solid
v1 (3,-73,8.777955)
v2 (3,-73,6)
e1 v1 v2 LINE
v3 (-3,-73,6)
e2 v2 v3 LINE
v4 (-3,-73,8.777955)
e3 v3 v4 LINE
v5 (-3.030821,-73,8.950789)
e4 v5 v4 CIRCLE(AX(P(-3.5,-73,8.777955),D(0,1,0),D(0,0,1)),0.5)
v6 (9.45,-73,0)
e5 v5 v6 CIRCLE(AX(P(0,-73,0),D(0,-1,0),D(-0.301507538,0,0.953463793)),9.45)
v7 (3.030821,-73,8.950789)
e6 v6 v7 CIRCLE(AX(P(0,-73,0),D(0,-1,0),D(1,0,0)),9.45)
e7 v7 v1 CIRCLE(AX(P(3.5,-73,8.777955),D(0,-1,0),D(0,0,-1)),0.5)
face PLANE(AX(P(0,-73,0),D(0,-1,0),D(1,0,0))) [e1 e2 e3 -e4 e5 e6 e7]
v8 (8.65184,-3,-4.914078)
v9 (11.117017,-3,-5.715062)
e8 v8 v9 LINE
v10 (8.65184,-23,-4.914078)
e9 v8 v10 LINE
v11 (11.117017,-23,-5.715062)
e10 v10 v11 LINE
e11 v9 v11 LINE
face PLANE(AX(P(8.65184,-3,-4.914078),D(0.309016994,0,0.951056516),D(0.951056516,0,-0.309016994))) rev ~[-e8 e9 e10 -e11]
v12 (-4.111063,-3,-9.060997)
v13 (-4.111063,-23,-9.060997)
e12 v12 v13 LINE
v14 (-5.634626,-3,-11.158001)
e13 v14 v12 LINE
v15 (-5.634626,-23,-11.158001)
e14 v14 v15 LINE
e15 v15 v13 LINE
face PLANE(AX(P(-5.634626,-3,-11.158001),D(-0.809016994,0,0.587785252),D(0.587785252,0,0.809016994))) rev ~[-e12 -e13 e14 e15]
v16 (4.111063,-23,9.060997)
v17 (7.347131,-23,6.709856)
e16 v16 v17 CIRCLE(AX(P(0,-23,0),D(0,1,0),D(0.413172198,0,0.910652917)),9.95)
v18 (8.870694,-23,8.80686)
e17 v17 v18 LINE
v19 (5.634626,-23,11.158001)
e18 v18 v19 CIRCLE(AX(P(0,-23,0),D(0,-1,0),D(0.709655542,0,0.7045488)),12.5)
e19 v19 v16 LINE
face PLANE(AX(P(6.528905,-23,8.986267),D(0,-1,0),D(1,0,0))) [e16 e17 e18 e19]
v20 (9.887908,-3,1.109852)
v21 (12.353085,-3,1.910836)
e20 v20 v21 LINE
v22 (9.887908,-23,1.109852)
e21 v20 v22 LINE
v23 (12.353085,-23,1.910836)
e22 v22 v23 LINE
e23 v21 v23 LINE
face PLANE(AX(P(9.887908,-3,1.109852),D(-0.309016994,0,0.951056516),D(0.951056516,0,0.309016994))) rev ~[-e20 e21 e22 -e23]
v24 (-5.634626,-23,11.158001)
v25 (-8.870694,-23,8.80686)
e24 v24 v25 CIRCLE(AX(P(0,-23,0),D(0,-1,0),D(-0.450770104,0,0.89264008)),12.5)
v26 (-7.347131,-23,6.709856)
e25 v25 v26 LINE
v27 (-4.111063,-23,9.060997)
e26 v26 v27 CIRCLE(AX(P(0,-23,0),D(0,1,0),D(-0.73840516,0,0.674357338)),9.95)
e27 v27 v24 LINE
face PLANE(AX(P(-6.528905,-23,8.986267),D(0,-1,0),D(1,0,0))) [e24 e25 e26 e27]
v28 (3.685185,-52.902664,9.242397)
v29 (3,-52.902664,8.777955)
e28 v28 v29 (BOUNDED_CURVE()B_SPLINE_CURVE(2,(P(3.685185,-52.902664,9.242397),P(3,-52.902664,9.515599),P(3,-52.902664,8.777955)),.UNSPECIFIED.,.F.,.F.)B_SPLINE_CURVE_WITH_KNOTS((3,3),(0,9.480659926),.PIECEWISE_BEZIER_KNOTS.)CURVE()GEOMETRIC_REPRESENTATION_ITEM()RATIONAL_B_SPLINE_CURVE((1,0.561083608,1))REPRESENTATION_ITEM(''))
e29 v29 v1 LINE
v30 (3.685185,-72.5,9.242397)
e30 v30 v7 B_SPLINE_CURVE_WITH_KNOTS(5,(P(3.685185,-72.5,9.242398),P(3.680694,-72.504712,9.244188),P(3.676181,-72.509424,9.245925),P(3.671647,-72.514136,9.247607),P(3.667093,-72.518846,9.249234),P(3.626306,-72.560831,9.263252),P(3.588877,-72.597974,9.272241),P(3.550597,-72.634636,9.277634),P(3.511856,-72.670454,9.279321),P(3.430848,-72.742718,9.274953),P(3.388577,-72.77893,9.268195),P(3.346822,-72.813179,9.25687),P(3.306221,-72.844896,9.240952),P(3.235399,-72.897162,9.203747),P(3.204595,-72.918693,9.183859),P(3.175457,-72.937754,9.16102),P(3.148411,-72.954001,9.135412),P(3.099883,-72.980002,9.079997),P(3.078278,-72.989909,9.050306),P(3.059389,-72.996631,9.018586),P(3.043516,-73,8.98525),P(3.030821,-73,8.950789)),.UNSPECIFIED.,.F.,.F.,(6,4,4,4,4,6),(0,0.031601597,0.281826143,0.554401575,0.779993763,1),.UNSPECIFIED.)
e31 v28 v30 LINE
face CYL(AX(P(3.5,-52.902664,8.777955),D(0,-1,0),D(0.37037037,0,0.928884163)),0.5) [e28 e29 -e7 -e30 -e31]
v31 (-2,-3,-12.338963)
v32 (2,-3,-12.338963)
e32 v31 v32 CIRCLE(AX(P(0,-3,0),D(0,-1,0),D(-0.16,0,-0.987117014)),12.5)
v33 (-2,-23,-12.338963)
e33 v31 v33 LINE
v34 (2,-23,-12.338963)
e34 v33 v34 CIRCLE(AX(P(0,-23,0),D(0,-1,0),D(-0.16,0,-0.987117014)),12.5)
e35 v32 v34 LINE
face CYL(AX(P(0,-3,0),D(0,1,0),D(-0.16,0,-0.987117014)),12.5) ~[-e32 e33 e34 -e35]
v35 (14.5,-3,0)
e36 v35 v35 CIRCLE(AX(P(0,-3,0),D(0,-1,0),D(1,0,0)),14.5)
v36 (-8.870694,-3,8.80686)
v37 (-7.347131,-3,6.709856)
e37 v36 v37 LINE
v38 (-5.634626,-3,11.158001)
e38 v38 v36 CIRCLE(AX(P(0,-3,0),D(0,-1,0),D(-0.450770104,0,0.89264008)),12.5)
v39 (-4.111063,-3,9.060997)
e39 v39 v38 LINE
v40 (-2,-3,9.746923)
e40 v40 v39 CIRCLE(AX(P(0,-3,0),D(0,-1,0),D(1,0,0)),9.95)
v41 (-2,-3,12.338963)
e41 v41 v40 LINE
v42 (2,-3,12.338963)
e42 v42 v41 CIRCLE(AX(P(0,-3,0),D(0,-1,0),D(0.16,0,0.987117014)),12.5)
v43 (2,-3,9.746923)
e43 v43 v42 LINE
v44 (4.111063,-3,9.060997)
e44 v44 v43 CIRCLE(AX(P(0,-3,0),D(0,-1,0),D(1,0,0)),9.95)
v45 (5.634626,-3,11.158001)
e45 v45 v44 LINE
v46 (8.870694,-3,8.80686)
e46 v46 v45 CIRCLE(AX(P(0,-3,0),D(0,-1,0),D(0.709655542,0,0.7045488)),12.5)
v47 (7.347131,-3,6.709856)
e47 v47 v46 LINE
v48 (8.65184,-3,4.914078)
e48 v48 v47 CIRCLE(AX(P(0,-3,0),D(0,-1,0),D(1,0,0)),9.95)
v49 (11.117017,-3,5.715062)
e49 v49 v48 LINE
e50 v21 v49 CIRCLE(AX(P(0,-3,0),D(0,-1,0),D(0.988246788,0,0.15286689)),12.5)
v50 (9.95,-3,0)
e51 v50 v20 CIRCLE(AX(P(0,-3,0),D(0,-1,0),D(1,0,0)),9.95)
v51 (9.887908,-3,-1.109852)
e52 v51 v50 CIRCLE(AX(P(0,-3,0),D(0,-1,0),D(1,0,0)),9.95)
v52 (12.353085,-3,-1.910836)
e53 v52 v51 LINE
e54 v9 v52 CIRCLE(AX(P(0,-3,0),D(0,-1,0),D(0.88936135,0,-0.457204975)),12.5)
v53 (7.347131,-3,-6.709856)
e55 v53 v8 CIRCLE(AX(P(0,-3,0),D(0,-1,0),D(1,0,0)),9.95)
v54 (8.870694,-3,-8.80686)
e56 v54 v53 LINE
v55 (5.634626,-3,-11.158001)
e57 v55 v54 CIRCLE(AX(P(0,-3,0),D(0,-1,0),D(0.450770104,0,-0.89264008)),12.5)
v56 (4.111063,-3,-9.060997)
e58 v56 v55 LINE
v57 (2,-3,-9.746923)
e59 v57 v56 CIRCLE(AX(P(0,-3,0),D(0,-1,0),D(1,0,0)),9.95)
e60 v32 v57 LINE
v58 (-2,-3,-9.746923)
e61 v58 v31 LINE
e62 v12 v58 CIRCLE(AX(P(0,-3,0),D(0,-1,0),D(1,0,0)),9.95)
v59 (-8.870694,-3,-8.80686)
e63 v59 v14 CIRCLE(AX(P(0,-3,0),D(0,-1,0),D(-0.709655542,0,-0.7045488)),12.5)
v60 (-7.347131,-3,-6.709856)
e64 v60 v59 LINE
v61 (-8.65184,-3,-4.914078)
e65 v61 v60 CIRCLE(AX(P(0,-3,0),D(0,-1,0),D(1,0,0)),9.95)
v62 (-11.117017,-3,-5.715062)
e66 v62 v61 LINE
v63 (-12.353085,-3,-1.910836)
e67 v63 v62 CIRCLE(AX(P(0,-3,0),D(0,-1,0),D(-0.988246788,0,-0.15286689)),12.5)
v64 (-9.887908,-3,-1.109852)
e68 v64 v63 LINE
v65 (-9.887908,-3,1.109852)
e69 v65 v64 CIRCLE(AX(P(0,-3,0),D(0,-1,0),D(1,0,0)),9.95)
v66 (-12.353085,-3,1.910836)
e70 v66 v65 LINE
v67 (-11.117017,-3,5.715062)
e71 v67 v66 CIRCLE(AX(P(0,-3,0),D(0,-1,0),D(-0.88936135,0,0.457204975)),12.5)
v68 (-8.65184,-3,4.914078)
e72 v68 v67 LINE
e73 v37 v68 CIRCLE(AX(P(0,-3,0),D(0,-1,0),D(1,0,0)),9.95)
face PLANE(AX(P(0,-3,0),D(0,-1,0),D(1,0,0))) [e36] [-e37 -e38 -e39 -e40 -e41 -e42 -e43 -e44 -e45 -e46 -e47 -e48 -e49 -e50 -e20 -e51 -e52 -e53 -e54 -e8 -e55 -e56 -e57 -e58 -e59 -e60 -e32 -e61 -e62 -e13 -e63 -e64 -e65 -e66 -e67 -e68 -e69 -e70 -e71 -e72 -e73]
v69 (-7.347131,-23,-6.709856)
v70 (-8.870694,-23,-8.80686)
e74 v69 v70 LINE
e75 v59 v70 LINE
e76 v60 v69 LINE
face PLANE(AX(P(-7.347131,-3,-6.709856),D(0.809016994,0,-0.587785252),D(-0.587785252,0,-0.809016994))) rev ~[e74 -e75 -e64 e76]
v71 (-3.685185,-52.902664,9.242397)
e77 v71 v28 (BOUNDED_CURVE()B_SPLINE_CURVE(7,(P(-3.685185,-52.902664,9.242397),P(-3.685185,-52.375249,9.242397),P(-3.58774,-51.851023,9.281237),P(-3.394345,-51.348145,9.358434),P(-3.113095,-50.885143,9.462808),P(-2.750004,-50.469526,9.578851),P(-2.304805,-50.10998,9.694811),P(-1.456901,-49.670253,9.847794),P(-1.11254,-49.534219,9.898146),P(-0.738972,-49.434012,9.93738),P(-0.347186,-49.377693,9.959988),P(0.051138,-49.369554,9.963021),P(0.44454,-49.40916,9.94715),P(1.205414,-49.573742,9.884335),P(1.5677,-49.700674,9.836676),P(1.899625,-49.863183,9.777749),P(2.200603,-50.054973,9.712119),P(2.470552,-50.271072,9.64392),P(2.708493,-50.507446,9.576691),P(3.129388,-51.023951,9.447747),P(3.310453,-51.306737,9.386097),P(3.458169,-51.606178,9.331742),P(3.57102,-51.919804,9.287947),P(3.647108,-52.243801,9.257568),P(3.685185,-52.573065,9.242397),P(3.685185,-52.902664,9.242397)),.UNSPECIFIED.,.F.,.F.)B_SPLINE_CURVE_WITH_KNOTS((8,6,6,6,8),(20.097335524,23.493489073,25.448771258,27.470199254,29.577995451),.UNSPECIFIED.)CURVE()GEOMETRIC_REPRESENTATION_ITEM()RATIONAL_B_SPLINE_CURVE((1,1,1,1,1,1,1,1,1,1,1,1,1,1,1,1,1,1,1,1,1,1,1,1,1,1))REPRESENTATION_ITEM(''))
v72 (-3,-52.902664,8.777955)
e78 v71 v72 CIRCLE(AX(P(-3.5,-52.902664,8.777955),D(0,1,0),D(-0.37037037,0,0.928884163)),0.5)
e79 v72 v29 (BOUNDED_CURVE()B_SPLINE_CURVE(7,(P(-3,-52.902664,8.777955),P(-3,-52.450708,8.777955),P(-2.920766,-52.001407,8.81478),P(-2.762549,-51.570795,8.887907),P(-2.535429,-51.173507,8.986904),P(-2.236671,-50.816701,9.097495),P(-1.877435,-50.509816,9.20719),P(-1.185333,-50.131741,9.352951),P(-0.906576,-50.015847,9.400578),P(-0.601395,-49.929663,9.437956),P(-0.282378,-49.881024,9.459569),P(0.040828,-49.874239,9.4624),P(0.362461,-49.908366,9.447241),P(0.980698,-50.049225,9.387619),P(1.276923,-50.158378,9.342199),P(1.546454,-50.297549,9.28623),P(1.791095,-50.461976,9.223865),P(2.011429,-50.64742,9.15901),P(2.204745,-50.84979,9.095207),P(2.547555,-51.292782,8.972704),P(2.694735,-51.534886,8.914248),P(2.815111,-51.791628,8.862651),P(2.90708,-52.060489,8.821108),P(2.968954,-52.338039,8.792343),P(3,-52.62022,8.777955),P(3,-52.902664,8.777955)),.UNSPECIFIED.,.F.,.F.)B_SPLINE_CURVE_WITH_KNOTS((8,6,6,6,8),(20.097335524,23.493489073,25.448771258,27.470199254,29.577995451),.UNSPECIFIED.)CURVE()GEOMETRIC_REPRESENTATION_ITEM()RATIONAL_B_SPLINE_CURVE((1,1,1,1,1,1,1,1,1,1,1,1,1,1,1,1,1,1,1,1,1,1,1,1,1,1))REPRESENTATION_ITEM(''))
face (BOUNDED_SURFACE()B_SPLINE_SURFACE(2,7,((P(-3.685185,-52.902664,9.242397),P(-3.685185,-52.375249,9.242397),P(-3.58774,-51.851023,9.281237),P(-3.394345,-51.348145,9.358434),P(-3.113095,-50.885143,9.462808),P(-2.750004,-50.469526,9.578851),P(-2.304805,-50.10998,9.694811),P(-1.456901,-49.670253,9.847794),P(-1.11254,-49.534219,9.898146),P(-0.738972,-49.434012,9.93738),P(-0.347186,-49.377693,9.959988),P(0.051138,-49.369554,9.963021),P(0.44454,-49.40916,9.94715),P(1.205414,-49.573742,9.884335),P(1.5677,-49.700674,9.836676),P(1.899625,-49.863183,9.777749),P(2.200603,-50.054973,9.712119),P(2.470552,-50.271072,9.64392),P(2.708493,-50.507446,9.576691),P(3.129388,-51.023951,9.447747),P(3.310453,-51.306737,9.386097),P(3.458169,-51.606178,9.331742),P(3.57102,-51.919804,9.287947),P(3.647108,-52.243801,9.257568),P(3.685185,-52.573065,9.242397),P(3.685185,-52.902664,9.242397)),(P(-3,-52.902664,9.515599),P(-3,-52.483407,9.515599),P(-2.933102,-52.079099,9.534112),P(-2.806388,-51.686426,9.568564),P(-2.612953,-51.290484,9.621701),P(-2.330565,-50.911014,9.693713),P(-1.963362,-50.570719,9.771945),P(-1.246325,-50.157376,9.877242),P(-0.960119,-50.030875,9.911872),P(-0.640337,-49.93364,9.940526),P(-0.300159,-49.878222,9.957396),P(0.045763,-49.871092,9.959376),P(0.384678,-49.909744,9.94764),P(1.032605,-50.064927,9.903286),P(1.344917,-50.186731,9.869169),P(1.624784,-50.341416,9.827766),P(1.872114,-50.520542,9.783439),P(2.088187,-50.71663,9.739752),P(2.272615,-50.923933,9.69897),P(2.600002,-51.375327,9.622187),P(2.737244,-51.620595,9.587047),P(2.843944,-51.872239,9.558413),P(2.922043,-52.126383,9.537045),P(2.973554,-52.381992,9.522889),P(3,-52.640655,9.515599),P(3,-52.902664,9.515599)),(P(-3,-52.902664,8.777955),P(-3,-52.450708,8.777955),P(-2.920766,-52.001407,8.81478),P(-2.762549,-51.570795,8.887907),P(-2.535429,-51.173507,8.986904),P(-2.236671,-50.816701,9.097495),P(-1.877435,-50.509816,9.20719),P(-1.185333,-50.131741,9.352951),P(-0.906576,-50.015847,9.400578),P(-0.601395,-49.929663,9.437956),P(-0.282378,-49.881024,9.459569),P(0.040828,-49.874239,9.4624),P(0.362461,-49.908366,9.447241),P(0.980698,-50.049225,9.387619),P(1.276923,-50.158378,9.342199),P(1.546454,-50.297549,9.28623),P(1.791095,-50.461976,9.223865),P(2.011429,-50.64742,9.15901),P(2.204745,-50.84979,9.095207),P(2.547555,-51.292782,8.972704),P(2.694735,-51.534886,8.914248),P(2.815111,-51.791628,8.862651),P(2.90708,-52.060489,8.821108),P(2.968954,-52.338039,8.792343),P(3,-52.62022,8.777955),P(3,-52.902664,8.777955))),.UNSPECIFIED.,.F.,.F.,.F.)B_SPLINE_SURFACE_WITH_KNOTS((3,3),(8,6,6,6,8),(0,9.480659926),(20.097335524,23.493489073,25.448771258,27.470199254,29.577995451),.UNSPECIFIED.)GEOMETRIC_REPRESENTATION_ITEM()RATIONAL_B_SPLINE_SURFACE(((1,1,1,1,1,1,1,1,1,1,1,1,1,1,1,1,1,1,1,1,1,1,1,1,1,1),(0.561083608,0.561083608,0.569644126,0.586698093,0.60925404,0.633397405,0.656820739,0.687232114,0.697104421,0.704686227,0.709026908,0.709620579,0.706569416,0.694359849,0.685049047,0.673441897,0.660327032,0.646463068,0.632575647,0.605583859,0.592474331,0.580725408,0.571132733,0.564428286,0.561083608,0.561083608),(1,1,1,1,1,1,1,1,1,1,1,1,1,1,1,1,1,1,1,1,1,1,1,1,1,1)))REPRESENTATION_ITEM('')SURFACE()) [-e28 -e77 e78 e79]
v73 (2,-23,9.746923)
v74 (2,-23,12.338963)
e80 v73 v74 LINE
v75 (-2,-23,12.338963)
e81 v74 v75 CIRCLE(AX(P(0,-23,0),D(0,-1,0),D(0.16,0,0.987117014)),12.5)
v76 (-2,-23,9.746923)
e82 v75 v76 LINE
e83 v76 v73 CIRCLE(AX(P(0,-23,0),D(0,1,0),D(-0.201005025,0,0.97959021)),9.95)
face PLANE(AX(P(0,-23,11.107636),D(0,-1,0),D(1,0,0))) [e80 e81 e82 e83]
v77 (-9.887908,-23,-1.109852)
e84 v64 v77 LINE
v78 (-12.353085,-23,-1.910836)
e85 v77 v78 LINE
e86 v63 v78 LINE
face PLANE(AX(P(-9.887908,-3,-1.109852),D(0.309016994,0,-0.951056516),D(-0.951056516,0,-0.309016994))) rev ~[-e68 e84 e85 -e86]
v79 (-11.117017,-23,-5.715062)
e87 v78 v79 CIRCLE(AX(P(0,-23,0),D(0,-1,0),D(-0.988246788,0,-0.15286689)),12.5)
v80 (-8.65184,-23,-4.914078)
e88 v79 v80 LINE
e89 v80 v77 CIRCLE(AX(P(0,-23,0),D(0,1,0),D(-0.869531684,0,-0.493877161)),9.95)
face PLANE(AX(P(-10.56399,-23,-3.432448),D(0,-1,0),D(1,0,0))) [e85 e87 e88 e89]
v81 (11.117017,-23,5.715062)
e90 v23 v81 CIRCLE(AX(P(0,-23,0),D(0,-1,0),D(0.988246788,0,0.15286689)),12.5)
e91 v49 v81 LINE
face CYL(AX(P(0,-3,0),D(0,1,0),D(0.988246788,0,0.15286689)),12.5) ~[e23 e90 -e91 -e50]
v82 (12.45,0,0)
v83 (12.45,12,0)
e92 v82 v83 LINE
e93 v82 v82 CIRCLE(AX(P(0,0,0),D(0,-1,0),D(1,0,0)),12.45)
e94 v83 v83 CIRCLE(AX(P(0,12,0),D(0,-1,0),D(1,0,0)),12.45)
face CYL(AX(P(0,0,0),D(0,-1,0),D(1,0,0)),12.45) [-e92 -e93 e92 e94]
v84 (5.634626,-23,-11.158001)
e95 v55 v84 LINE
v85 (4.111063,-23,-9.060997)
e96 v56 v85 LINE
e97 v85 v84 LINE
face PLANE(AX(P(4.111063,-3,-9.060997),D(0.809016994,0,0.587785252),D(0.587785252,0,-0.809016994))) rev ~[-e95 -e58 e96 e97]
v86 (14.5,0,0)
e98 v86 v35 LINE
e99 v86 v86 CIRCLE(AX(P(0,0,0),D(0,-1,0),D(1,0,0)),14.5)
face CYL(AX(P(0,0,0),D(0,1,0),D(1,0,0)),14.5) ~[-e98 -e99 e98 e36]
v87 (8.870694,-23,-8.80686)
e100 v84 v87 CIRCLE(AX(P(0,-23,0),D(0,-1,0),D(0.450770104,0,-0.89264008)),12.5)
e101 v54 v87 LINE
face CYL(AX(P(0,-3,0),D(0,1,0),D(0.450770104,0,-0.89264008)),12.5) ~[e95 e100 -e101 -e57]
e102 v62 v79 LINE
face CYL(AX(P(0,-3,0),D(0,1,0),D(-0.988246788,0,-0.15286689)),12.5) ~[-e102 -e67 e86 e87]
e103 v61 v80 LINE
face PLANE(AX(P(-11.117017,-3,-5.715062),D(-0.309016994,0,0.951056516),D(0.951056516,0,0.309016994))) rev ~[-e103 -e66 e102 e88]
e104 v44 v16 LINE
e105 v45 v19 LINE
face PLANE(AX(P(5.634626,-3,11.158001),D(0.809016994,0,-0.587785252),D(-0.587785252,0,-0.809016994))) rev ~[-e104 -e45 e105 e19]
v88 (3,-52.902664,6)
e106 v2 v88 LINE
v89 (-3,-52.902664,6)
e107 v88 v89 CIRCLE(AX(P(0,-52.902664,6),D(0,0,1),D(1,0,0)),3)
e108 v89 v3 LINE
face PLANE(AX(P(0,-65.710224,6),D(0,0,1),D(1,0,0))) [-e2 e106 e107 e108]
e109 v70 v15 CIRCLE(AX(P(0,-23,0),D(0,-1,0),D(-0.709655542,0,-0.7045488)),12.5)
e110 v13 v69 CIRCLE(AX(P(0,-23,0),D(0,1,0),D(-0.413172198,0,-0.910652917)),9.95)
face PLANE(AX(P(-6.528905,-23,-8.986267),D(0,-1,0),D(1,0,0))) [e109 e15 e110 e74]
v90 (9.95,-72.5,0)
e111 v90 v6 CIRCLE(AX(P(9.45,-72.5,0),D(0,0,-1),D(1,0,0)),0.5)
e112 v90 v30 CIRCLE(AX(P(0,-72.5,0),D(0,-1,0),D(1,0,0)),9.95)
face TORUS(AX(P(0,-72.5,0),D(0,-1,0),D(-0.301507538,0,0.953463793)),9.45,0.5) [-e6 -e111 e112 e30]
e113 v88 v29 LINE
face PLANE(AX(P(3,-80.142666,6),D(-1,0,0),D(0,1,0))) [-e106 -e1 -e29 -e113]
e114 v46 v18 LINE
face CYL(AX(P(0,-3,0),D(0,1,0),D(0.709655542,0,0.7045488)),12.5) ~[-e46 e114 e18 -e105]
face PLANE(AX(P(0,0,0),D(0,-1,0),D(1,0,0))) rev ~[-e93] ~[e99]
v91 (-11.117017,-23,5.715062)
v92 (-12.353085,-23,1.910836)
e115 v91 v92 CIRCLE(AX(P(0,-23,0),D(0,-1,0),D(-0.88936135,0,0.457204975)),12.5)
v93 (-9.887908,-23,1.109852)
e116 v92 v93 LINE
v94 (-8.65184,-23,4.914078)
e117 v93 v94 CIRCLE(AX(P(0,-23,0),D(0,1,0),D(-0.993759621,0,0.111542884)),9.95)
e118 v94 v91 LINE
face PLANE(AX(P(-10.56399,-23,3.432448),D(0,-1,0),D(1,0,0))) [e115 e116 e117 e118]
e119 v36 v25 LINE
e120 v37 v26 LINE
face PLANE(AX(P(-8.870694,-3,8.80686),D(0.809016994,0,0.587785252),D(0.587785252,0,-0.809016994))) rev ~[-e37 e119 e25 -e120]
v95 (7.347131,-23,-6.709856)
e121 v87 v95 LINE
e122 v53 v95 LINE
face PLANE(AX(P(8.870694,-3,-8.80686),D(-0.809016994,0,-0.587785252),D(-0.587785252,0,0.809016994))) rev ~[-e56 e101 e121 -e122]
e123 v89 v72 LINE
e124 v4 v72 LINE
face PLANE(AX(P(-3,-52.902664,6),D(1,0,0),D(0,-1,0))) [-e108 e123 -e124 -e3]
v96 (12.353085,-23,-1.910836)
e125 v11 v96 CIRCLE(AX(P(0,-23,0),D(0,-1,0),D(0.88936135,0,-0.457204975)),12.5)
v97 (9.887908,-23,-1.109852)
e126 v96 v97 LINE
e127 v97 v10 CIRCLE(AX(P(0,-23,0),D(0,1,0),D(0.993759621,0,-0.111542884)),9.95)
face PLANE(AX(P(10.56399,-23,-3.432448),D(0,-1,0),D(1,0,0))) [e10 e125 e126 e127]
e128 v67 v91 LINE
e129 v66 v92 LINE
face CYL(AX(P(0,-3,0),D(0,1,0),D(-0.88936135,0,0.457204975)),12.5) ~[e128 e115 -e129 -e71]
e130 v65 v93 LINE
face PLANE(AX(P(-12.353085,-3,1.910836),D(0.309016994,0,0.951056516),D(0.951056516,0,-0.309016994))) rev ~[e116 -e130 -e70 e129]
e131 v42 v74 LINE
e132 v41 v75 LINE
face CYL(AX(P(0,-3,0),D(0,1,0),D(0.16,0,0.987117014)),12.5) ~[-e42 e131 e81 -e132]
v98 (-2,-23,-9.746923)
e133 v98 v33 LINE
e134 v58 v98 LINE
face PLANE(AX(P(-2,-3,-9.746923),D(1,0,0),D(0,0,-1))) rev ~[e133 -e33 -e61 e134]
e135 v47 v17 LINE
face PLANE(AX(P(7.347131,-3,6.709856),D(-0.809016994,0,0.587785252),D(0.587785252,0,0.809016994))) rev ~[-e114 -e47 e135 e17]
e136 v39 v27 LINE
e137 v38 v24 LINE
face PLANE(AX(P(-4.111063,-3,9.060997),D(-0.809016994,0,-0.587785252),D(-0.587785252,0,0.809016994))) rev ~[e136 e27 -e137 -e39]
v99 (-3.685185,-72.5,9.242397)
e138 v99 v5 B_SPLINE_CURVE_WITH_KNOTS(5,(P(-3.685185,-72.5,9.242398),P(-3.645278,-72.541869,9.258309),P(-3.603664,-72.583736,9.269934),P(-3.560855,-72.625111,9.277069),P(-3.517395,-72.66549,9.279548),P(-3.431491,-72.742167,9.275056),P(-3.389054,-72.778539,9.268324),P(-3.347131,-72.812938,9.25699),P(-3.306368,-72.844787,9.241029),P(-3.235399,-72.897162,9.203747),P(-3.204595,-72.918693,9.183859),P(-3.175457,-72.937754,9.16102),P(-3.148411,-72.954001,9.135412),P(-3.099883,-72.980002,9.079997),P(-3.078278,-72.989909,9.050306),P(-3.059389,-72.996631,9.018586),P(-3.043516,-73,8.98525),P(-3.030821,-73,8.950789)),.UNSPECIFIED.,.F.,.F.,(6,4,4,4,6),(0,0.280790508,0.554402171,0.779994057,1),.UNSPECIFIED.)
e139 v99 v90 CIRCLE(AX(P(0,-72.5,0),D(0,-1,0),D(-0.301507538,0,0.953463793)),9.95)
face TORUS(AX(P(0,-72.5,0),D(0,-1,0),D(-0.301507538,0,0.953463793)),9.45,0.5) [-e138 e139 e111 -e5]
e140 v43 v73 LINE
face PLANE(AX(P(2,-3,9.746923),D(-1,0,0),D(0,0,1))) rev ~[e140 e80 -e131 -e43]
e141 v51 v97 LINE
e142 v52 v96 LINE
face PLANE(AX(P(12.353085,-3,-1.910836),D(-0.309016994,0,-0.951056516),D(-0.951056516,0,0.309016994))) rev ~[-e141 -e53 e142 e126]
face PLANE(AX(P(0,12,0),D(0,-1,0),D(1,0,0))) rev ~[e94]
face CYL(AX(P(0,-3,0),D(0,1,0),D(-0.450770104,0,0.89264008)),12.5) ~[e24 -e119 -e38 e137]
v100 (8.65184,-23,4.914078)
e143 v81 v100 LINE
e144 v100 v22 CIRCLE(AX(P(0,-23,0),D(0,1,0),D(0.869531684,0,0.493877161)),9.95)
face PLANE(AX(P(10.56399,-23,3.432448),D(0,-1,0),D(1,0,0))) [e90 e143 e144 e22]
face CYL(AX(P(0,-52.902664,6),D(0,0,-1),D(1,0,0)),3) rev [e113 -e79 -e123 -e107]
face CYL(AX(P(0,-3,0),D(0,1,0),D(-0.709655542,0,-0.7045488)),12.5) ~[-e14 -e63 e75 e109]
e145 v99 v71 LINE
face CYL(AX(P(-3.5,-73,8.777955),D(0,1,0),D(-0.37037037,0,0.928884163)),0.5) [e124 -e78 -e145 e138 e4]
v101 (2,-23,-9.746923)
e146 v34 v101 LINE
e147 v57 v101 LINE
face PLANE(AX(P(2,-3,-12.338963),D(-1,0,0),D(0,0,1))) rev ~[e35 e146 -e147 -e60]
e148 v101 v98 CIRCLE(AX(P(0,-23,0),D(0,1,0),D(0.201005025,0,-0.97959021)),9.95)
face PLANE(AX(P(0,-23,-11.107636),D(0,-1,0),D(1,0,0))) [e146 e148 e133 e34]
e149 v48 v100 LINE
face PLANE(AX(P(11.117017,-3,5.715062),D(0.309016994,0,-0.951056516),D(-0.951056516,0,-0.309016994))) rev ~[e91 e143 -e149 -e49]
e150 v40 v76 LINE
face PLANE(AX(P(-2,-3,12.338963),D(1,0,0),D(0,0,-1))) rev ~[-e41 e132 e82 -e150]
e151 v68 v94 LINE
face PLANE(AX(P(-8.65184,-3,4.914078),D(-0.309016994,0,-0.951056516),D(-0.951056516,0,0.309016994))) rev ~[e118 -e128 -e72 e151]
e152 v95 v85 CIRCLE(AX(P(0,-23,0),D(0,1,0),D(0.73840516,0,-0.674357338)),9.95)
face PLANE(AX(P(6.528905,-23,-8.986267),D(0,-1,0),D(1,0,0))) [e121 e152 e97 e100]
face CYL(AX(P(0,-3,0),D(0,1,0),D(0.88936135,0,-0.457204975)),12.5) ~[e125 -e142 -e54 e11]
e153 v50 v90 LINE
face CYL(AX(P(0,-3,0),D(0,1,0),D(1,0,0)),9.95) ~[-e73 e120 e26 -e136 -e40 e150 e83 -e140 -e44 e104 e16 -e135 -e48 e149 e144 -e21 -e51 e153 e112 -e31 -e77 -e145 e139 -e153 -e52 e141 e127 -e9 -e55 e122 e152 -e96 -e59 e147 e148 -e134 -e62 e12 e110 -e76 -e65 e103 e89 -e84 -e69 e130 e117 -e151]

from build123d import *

# Parameters (mm, degrees)
F0_R      = 12.45
F1_DEPTH  = 12
F2_R      = 14.5
F3_DEPTH  = 3
F4_R      = 9.95
F5_DEPTH  = 70
F7_DEPTH  = 20
F10_DEPTH = 23.8
F11_R     = 0.5


with BuildPart() as f1:
    # F0 (on Front) → F1 (new body)
    with BuildSketch(Plane.XZ):
        Circle(F0_R)
    extrude(amount=-F1_DEPTH)

    # F2 (on Front) → F3 (join)
    with BuildSketch(Plane.XZ):
        Circle(F2_R)
    extrude(amount=F3_DEPTH)

    # F4 (on face) → F5 (join)
    with BuildSketch(Plane.XZ.offset(3)):
        Circle(F4_R)
    extrude(amount=F5_DEPTH)

    # F6 (on face) → F7 (join)
    with BuildSketch(Plane.XZ.offset(3)):
        with BuildLine():
            Line((2, 9.7469225913), (2, 12.3389626793))
            ThreePointArc((2, 12.3389626793), (0, 12.5), (-2, 12.3389626793))
            Line((-2, 12.3389626793), (-2, 9.7469225913))
            ThreePointArc((-2, 9.7469225913), (0, 9.95), (2, 9.7469225913))
        make_face()
        with BuildLine():
            ThreePointArc((-7.3471313431, 6.7098555146), (-5.8484632603, 8.049719094), (-4.1110633656, 9.0609965238))
            Line((-4.1110633656, 9.0609965238), (-5.6346263027, 11.1580010051))
            ThreePointArc((-5.6346263027, 11.1580010051), (-7.3473156537, 10.1127124297), (-8.8706942802, 8.8068599959))
            Line((-8.8706942802, 8.8068599959), (-7.3471313431, 6.7098555146))
        make_face()
        with BuildLine():
            ThreePointArc((-9.887908233, 1.109851691), (-9.4630123371, 3.074719094), (-8.6518402555, 4.9140777561))
            Line((-8.6518402555, 4.9140777561), (-11.1170168717, 5.7150621934))
            ThreePointArc((-11.1170168717, 5.7150621934), (-11.8882064537, 3.8627124297), (-12.3530848492, 1.9108361283))
            Line((-12.3530848492, 1.9108361283), (-9.887908233, 1.109851691))
        make_face()
        with BuildLine():
            ThreePointArc((-8.6518402555, -4.9140777561), (-9.4630123371, -3.074719094), (-9.887908233, -1.109851691))
            Line((-9.887908233, -1.109851691), (-12.3530848492, -1.9108361283))
            ThreePointArc((-12.3530848492, -1.9108361283), (-11.8882064537, -3.8627124297), (-11.1170168717, -5.7150621934))
            Line((-11.1170168717, -5.7150621934), (-8.6518402555, -4.9140777561))
        make_face()
        with BuildLine():
            ThreePointArc((-4.1110633656, -9.0609965238), (-5.8484632603, -8.049719094), (-7.3471313431, -6.7098555146))
            Line((-7.3471313431, -6.7098555146), (-8.8706942802, -8.8068599959))
            ThreePointArc((-8.8706942802, -8.8068599959), (-7.3473156537, -10.1127124297), (-5.6346263027, -11.1580010051))
            Line((-5.6346263027, -11.1580010051), (-4.1110633656, -9.0609965238))
        make_face()
        with BuildLine():
            ThreePointArc((2, -9.7469225913), (0, -9.95), (-2, -9.7469225913))
            Line((-2, -9.7469225913), (-2, -12.3389626793))
            ThreePointArc((-2, -12.3389626793), (0, -12.5), (2, -12.3389626793))
            Line((2, -12.3389626793), (2, -9.7469225913))
        make_face()
        with BuildLine():
            Line((8.8706942802, -8.8068599959), (7.3471313431, -6.7098555146))
            ThreePointArc((7.3471313431, -6.7098555146), (5.8484632603, -8.049719094), (4.1110633656, -9.0609965238))
            Line((4.1110633656, -9.0609965238), (5.6346263027, -11.1580010051))
            ThreePointArc((5.6346263027, -11.1580010051), (7.3473156537, -10.1127124297), (8.8706942802, -8.8068599959))
        make_face()
        with BuildLine():
            Line((12.3530848492, -1.9108361283), (9.887908233, -1.109851691))
            ThreePointArc((9.887908233, -1.109851691), (9.4630123371, -3.074719094), (8.6518402555, -4.9140777561))
            Line((8.6518402555, -4.9140777561), (11.1170168717, -5.7150621934))
            ThreePointArc((11.1170168717, -5.7150621934), (11.8882064537, -3.8627124297), (12.3530848492, -1.9108361283))
        make_face()
        with BuildLine():
            Line((11.1170168717, 5.7150621934), (8.6518402555, 4.9140777561))
            ThreePointArc((8.6518402555, 4.9140777561), (9.4630123371, 3.074719094), (9.887908233, 1.109851691))
            Line((9.887908233, 1.109851691), (12.3530848492, 1.9108361283))
            ThreePointArc((12.3530848492, 1.9108361283), (11.8882064537, 3.8627124297), (11.1170168717, 5.7150621934))
        make_face()
        with BuildLine():
            Line((5.6346263027, 11.1580010051), (4.1110633656, 9.0609965238))
            ThreePointArc((4.1110633656, 9.0609965238), (5.8484632603, 8.049719094), (7.3471313431, 6.7098555146))
            Line((7.3471313431, 6.7098555146), (8.8706942802, 8.8068599959))
            ThreePointArc((8.8706942802, 8.8068599959), (7.3473156537, 10.1127124297), (5.6346263027, 11.1580010051))
        make_face()
    extrude(amount=F7_DEPTH)

    # F9 (on offset) → F10 (cut)
    with BuildSketch(Plane.XY.offset(6)):
        with BuildLine():
            Line((-3, -52.9026644758), (-3, -80.1426661679))
            Line((-3, -80.1426661679), (3, -80.1426661679))
            Line((3, -80.1426661679), (3, -52.9026644758))
            ThreePointArc((3, -52.9026644758), (0, -49.9026644758), (-3, -52.9026644758))
        make_face()
    extrude(amount=F10_DEPTH, mode=Mode.SUBTRACT)

    # F11
    f11_edges = [f1.edges().sort_by_distance(p)[0] for p in [
        (-3, -62.951332, 9.486965),
        (0, -49.902664, 9.95),
        (3, -62.951332, 9.486965),
        (-5.880157, -73, -8.026596),
    ]]
    fillet(f11_edges, radius=F11_R)


solid = f1.part
